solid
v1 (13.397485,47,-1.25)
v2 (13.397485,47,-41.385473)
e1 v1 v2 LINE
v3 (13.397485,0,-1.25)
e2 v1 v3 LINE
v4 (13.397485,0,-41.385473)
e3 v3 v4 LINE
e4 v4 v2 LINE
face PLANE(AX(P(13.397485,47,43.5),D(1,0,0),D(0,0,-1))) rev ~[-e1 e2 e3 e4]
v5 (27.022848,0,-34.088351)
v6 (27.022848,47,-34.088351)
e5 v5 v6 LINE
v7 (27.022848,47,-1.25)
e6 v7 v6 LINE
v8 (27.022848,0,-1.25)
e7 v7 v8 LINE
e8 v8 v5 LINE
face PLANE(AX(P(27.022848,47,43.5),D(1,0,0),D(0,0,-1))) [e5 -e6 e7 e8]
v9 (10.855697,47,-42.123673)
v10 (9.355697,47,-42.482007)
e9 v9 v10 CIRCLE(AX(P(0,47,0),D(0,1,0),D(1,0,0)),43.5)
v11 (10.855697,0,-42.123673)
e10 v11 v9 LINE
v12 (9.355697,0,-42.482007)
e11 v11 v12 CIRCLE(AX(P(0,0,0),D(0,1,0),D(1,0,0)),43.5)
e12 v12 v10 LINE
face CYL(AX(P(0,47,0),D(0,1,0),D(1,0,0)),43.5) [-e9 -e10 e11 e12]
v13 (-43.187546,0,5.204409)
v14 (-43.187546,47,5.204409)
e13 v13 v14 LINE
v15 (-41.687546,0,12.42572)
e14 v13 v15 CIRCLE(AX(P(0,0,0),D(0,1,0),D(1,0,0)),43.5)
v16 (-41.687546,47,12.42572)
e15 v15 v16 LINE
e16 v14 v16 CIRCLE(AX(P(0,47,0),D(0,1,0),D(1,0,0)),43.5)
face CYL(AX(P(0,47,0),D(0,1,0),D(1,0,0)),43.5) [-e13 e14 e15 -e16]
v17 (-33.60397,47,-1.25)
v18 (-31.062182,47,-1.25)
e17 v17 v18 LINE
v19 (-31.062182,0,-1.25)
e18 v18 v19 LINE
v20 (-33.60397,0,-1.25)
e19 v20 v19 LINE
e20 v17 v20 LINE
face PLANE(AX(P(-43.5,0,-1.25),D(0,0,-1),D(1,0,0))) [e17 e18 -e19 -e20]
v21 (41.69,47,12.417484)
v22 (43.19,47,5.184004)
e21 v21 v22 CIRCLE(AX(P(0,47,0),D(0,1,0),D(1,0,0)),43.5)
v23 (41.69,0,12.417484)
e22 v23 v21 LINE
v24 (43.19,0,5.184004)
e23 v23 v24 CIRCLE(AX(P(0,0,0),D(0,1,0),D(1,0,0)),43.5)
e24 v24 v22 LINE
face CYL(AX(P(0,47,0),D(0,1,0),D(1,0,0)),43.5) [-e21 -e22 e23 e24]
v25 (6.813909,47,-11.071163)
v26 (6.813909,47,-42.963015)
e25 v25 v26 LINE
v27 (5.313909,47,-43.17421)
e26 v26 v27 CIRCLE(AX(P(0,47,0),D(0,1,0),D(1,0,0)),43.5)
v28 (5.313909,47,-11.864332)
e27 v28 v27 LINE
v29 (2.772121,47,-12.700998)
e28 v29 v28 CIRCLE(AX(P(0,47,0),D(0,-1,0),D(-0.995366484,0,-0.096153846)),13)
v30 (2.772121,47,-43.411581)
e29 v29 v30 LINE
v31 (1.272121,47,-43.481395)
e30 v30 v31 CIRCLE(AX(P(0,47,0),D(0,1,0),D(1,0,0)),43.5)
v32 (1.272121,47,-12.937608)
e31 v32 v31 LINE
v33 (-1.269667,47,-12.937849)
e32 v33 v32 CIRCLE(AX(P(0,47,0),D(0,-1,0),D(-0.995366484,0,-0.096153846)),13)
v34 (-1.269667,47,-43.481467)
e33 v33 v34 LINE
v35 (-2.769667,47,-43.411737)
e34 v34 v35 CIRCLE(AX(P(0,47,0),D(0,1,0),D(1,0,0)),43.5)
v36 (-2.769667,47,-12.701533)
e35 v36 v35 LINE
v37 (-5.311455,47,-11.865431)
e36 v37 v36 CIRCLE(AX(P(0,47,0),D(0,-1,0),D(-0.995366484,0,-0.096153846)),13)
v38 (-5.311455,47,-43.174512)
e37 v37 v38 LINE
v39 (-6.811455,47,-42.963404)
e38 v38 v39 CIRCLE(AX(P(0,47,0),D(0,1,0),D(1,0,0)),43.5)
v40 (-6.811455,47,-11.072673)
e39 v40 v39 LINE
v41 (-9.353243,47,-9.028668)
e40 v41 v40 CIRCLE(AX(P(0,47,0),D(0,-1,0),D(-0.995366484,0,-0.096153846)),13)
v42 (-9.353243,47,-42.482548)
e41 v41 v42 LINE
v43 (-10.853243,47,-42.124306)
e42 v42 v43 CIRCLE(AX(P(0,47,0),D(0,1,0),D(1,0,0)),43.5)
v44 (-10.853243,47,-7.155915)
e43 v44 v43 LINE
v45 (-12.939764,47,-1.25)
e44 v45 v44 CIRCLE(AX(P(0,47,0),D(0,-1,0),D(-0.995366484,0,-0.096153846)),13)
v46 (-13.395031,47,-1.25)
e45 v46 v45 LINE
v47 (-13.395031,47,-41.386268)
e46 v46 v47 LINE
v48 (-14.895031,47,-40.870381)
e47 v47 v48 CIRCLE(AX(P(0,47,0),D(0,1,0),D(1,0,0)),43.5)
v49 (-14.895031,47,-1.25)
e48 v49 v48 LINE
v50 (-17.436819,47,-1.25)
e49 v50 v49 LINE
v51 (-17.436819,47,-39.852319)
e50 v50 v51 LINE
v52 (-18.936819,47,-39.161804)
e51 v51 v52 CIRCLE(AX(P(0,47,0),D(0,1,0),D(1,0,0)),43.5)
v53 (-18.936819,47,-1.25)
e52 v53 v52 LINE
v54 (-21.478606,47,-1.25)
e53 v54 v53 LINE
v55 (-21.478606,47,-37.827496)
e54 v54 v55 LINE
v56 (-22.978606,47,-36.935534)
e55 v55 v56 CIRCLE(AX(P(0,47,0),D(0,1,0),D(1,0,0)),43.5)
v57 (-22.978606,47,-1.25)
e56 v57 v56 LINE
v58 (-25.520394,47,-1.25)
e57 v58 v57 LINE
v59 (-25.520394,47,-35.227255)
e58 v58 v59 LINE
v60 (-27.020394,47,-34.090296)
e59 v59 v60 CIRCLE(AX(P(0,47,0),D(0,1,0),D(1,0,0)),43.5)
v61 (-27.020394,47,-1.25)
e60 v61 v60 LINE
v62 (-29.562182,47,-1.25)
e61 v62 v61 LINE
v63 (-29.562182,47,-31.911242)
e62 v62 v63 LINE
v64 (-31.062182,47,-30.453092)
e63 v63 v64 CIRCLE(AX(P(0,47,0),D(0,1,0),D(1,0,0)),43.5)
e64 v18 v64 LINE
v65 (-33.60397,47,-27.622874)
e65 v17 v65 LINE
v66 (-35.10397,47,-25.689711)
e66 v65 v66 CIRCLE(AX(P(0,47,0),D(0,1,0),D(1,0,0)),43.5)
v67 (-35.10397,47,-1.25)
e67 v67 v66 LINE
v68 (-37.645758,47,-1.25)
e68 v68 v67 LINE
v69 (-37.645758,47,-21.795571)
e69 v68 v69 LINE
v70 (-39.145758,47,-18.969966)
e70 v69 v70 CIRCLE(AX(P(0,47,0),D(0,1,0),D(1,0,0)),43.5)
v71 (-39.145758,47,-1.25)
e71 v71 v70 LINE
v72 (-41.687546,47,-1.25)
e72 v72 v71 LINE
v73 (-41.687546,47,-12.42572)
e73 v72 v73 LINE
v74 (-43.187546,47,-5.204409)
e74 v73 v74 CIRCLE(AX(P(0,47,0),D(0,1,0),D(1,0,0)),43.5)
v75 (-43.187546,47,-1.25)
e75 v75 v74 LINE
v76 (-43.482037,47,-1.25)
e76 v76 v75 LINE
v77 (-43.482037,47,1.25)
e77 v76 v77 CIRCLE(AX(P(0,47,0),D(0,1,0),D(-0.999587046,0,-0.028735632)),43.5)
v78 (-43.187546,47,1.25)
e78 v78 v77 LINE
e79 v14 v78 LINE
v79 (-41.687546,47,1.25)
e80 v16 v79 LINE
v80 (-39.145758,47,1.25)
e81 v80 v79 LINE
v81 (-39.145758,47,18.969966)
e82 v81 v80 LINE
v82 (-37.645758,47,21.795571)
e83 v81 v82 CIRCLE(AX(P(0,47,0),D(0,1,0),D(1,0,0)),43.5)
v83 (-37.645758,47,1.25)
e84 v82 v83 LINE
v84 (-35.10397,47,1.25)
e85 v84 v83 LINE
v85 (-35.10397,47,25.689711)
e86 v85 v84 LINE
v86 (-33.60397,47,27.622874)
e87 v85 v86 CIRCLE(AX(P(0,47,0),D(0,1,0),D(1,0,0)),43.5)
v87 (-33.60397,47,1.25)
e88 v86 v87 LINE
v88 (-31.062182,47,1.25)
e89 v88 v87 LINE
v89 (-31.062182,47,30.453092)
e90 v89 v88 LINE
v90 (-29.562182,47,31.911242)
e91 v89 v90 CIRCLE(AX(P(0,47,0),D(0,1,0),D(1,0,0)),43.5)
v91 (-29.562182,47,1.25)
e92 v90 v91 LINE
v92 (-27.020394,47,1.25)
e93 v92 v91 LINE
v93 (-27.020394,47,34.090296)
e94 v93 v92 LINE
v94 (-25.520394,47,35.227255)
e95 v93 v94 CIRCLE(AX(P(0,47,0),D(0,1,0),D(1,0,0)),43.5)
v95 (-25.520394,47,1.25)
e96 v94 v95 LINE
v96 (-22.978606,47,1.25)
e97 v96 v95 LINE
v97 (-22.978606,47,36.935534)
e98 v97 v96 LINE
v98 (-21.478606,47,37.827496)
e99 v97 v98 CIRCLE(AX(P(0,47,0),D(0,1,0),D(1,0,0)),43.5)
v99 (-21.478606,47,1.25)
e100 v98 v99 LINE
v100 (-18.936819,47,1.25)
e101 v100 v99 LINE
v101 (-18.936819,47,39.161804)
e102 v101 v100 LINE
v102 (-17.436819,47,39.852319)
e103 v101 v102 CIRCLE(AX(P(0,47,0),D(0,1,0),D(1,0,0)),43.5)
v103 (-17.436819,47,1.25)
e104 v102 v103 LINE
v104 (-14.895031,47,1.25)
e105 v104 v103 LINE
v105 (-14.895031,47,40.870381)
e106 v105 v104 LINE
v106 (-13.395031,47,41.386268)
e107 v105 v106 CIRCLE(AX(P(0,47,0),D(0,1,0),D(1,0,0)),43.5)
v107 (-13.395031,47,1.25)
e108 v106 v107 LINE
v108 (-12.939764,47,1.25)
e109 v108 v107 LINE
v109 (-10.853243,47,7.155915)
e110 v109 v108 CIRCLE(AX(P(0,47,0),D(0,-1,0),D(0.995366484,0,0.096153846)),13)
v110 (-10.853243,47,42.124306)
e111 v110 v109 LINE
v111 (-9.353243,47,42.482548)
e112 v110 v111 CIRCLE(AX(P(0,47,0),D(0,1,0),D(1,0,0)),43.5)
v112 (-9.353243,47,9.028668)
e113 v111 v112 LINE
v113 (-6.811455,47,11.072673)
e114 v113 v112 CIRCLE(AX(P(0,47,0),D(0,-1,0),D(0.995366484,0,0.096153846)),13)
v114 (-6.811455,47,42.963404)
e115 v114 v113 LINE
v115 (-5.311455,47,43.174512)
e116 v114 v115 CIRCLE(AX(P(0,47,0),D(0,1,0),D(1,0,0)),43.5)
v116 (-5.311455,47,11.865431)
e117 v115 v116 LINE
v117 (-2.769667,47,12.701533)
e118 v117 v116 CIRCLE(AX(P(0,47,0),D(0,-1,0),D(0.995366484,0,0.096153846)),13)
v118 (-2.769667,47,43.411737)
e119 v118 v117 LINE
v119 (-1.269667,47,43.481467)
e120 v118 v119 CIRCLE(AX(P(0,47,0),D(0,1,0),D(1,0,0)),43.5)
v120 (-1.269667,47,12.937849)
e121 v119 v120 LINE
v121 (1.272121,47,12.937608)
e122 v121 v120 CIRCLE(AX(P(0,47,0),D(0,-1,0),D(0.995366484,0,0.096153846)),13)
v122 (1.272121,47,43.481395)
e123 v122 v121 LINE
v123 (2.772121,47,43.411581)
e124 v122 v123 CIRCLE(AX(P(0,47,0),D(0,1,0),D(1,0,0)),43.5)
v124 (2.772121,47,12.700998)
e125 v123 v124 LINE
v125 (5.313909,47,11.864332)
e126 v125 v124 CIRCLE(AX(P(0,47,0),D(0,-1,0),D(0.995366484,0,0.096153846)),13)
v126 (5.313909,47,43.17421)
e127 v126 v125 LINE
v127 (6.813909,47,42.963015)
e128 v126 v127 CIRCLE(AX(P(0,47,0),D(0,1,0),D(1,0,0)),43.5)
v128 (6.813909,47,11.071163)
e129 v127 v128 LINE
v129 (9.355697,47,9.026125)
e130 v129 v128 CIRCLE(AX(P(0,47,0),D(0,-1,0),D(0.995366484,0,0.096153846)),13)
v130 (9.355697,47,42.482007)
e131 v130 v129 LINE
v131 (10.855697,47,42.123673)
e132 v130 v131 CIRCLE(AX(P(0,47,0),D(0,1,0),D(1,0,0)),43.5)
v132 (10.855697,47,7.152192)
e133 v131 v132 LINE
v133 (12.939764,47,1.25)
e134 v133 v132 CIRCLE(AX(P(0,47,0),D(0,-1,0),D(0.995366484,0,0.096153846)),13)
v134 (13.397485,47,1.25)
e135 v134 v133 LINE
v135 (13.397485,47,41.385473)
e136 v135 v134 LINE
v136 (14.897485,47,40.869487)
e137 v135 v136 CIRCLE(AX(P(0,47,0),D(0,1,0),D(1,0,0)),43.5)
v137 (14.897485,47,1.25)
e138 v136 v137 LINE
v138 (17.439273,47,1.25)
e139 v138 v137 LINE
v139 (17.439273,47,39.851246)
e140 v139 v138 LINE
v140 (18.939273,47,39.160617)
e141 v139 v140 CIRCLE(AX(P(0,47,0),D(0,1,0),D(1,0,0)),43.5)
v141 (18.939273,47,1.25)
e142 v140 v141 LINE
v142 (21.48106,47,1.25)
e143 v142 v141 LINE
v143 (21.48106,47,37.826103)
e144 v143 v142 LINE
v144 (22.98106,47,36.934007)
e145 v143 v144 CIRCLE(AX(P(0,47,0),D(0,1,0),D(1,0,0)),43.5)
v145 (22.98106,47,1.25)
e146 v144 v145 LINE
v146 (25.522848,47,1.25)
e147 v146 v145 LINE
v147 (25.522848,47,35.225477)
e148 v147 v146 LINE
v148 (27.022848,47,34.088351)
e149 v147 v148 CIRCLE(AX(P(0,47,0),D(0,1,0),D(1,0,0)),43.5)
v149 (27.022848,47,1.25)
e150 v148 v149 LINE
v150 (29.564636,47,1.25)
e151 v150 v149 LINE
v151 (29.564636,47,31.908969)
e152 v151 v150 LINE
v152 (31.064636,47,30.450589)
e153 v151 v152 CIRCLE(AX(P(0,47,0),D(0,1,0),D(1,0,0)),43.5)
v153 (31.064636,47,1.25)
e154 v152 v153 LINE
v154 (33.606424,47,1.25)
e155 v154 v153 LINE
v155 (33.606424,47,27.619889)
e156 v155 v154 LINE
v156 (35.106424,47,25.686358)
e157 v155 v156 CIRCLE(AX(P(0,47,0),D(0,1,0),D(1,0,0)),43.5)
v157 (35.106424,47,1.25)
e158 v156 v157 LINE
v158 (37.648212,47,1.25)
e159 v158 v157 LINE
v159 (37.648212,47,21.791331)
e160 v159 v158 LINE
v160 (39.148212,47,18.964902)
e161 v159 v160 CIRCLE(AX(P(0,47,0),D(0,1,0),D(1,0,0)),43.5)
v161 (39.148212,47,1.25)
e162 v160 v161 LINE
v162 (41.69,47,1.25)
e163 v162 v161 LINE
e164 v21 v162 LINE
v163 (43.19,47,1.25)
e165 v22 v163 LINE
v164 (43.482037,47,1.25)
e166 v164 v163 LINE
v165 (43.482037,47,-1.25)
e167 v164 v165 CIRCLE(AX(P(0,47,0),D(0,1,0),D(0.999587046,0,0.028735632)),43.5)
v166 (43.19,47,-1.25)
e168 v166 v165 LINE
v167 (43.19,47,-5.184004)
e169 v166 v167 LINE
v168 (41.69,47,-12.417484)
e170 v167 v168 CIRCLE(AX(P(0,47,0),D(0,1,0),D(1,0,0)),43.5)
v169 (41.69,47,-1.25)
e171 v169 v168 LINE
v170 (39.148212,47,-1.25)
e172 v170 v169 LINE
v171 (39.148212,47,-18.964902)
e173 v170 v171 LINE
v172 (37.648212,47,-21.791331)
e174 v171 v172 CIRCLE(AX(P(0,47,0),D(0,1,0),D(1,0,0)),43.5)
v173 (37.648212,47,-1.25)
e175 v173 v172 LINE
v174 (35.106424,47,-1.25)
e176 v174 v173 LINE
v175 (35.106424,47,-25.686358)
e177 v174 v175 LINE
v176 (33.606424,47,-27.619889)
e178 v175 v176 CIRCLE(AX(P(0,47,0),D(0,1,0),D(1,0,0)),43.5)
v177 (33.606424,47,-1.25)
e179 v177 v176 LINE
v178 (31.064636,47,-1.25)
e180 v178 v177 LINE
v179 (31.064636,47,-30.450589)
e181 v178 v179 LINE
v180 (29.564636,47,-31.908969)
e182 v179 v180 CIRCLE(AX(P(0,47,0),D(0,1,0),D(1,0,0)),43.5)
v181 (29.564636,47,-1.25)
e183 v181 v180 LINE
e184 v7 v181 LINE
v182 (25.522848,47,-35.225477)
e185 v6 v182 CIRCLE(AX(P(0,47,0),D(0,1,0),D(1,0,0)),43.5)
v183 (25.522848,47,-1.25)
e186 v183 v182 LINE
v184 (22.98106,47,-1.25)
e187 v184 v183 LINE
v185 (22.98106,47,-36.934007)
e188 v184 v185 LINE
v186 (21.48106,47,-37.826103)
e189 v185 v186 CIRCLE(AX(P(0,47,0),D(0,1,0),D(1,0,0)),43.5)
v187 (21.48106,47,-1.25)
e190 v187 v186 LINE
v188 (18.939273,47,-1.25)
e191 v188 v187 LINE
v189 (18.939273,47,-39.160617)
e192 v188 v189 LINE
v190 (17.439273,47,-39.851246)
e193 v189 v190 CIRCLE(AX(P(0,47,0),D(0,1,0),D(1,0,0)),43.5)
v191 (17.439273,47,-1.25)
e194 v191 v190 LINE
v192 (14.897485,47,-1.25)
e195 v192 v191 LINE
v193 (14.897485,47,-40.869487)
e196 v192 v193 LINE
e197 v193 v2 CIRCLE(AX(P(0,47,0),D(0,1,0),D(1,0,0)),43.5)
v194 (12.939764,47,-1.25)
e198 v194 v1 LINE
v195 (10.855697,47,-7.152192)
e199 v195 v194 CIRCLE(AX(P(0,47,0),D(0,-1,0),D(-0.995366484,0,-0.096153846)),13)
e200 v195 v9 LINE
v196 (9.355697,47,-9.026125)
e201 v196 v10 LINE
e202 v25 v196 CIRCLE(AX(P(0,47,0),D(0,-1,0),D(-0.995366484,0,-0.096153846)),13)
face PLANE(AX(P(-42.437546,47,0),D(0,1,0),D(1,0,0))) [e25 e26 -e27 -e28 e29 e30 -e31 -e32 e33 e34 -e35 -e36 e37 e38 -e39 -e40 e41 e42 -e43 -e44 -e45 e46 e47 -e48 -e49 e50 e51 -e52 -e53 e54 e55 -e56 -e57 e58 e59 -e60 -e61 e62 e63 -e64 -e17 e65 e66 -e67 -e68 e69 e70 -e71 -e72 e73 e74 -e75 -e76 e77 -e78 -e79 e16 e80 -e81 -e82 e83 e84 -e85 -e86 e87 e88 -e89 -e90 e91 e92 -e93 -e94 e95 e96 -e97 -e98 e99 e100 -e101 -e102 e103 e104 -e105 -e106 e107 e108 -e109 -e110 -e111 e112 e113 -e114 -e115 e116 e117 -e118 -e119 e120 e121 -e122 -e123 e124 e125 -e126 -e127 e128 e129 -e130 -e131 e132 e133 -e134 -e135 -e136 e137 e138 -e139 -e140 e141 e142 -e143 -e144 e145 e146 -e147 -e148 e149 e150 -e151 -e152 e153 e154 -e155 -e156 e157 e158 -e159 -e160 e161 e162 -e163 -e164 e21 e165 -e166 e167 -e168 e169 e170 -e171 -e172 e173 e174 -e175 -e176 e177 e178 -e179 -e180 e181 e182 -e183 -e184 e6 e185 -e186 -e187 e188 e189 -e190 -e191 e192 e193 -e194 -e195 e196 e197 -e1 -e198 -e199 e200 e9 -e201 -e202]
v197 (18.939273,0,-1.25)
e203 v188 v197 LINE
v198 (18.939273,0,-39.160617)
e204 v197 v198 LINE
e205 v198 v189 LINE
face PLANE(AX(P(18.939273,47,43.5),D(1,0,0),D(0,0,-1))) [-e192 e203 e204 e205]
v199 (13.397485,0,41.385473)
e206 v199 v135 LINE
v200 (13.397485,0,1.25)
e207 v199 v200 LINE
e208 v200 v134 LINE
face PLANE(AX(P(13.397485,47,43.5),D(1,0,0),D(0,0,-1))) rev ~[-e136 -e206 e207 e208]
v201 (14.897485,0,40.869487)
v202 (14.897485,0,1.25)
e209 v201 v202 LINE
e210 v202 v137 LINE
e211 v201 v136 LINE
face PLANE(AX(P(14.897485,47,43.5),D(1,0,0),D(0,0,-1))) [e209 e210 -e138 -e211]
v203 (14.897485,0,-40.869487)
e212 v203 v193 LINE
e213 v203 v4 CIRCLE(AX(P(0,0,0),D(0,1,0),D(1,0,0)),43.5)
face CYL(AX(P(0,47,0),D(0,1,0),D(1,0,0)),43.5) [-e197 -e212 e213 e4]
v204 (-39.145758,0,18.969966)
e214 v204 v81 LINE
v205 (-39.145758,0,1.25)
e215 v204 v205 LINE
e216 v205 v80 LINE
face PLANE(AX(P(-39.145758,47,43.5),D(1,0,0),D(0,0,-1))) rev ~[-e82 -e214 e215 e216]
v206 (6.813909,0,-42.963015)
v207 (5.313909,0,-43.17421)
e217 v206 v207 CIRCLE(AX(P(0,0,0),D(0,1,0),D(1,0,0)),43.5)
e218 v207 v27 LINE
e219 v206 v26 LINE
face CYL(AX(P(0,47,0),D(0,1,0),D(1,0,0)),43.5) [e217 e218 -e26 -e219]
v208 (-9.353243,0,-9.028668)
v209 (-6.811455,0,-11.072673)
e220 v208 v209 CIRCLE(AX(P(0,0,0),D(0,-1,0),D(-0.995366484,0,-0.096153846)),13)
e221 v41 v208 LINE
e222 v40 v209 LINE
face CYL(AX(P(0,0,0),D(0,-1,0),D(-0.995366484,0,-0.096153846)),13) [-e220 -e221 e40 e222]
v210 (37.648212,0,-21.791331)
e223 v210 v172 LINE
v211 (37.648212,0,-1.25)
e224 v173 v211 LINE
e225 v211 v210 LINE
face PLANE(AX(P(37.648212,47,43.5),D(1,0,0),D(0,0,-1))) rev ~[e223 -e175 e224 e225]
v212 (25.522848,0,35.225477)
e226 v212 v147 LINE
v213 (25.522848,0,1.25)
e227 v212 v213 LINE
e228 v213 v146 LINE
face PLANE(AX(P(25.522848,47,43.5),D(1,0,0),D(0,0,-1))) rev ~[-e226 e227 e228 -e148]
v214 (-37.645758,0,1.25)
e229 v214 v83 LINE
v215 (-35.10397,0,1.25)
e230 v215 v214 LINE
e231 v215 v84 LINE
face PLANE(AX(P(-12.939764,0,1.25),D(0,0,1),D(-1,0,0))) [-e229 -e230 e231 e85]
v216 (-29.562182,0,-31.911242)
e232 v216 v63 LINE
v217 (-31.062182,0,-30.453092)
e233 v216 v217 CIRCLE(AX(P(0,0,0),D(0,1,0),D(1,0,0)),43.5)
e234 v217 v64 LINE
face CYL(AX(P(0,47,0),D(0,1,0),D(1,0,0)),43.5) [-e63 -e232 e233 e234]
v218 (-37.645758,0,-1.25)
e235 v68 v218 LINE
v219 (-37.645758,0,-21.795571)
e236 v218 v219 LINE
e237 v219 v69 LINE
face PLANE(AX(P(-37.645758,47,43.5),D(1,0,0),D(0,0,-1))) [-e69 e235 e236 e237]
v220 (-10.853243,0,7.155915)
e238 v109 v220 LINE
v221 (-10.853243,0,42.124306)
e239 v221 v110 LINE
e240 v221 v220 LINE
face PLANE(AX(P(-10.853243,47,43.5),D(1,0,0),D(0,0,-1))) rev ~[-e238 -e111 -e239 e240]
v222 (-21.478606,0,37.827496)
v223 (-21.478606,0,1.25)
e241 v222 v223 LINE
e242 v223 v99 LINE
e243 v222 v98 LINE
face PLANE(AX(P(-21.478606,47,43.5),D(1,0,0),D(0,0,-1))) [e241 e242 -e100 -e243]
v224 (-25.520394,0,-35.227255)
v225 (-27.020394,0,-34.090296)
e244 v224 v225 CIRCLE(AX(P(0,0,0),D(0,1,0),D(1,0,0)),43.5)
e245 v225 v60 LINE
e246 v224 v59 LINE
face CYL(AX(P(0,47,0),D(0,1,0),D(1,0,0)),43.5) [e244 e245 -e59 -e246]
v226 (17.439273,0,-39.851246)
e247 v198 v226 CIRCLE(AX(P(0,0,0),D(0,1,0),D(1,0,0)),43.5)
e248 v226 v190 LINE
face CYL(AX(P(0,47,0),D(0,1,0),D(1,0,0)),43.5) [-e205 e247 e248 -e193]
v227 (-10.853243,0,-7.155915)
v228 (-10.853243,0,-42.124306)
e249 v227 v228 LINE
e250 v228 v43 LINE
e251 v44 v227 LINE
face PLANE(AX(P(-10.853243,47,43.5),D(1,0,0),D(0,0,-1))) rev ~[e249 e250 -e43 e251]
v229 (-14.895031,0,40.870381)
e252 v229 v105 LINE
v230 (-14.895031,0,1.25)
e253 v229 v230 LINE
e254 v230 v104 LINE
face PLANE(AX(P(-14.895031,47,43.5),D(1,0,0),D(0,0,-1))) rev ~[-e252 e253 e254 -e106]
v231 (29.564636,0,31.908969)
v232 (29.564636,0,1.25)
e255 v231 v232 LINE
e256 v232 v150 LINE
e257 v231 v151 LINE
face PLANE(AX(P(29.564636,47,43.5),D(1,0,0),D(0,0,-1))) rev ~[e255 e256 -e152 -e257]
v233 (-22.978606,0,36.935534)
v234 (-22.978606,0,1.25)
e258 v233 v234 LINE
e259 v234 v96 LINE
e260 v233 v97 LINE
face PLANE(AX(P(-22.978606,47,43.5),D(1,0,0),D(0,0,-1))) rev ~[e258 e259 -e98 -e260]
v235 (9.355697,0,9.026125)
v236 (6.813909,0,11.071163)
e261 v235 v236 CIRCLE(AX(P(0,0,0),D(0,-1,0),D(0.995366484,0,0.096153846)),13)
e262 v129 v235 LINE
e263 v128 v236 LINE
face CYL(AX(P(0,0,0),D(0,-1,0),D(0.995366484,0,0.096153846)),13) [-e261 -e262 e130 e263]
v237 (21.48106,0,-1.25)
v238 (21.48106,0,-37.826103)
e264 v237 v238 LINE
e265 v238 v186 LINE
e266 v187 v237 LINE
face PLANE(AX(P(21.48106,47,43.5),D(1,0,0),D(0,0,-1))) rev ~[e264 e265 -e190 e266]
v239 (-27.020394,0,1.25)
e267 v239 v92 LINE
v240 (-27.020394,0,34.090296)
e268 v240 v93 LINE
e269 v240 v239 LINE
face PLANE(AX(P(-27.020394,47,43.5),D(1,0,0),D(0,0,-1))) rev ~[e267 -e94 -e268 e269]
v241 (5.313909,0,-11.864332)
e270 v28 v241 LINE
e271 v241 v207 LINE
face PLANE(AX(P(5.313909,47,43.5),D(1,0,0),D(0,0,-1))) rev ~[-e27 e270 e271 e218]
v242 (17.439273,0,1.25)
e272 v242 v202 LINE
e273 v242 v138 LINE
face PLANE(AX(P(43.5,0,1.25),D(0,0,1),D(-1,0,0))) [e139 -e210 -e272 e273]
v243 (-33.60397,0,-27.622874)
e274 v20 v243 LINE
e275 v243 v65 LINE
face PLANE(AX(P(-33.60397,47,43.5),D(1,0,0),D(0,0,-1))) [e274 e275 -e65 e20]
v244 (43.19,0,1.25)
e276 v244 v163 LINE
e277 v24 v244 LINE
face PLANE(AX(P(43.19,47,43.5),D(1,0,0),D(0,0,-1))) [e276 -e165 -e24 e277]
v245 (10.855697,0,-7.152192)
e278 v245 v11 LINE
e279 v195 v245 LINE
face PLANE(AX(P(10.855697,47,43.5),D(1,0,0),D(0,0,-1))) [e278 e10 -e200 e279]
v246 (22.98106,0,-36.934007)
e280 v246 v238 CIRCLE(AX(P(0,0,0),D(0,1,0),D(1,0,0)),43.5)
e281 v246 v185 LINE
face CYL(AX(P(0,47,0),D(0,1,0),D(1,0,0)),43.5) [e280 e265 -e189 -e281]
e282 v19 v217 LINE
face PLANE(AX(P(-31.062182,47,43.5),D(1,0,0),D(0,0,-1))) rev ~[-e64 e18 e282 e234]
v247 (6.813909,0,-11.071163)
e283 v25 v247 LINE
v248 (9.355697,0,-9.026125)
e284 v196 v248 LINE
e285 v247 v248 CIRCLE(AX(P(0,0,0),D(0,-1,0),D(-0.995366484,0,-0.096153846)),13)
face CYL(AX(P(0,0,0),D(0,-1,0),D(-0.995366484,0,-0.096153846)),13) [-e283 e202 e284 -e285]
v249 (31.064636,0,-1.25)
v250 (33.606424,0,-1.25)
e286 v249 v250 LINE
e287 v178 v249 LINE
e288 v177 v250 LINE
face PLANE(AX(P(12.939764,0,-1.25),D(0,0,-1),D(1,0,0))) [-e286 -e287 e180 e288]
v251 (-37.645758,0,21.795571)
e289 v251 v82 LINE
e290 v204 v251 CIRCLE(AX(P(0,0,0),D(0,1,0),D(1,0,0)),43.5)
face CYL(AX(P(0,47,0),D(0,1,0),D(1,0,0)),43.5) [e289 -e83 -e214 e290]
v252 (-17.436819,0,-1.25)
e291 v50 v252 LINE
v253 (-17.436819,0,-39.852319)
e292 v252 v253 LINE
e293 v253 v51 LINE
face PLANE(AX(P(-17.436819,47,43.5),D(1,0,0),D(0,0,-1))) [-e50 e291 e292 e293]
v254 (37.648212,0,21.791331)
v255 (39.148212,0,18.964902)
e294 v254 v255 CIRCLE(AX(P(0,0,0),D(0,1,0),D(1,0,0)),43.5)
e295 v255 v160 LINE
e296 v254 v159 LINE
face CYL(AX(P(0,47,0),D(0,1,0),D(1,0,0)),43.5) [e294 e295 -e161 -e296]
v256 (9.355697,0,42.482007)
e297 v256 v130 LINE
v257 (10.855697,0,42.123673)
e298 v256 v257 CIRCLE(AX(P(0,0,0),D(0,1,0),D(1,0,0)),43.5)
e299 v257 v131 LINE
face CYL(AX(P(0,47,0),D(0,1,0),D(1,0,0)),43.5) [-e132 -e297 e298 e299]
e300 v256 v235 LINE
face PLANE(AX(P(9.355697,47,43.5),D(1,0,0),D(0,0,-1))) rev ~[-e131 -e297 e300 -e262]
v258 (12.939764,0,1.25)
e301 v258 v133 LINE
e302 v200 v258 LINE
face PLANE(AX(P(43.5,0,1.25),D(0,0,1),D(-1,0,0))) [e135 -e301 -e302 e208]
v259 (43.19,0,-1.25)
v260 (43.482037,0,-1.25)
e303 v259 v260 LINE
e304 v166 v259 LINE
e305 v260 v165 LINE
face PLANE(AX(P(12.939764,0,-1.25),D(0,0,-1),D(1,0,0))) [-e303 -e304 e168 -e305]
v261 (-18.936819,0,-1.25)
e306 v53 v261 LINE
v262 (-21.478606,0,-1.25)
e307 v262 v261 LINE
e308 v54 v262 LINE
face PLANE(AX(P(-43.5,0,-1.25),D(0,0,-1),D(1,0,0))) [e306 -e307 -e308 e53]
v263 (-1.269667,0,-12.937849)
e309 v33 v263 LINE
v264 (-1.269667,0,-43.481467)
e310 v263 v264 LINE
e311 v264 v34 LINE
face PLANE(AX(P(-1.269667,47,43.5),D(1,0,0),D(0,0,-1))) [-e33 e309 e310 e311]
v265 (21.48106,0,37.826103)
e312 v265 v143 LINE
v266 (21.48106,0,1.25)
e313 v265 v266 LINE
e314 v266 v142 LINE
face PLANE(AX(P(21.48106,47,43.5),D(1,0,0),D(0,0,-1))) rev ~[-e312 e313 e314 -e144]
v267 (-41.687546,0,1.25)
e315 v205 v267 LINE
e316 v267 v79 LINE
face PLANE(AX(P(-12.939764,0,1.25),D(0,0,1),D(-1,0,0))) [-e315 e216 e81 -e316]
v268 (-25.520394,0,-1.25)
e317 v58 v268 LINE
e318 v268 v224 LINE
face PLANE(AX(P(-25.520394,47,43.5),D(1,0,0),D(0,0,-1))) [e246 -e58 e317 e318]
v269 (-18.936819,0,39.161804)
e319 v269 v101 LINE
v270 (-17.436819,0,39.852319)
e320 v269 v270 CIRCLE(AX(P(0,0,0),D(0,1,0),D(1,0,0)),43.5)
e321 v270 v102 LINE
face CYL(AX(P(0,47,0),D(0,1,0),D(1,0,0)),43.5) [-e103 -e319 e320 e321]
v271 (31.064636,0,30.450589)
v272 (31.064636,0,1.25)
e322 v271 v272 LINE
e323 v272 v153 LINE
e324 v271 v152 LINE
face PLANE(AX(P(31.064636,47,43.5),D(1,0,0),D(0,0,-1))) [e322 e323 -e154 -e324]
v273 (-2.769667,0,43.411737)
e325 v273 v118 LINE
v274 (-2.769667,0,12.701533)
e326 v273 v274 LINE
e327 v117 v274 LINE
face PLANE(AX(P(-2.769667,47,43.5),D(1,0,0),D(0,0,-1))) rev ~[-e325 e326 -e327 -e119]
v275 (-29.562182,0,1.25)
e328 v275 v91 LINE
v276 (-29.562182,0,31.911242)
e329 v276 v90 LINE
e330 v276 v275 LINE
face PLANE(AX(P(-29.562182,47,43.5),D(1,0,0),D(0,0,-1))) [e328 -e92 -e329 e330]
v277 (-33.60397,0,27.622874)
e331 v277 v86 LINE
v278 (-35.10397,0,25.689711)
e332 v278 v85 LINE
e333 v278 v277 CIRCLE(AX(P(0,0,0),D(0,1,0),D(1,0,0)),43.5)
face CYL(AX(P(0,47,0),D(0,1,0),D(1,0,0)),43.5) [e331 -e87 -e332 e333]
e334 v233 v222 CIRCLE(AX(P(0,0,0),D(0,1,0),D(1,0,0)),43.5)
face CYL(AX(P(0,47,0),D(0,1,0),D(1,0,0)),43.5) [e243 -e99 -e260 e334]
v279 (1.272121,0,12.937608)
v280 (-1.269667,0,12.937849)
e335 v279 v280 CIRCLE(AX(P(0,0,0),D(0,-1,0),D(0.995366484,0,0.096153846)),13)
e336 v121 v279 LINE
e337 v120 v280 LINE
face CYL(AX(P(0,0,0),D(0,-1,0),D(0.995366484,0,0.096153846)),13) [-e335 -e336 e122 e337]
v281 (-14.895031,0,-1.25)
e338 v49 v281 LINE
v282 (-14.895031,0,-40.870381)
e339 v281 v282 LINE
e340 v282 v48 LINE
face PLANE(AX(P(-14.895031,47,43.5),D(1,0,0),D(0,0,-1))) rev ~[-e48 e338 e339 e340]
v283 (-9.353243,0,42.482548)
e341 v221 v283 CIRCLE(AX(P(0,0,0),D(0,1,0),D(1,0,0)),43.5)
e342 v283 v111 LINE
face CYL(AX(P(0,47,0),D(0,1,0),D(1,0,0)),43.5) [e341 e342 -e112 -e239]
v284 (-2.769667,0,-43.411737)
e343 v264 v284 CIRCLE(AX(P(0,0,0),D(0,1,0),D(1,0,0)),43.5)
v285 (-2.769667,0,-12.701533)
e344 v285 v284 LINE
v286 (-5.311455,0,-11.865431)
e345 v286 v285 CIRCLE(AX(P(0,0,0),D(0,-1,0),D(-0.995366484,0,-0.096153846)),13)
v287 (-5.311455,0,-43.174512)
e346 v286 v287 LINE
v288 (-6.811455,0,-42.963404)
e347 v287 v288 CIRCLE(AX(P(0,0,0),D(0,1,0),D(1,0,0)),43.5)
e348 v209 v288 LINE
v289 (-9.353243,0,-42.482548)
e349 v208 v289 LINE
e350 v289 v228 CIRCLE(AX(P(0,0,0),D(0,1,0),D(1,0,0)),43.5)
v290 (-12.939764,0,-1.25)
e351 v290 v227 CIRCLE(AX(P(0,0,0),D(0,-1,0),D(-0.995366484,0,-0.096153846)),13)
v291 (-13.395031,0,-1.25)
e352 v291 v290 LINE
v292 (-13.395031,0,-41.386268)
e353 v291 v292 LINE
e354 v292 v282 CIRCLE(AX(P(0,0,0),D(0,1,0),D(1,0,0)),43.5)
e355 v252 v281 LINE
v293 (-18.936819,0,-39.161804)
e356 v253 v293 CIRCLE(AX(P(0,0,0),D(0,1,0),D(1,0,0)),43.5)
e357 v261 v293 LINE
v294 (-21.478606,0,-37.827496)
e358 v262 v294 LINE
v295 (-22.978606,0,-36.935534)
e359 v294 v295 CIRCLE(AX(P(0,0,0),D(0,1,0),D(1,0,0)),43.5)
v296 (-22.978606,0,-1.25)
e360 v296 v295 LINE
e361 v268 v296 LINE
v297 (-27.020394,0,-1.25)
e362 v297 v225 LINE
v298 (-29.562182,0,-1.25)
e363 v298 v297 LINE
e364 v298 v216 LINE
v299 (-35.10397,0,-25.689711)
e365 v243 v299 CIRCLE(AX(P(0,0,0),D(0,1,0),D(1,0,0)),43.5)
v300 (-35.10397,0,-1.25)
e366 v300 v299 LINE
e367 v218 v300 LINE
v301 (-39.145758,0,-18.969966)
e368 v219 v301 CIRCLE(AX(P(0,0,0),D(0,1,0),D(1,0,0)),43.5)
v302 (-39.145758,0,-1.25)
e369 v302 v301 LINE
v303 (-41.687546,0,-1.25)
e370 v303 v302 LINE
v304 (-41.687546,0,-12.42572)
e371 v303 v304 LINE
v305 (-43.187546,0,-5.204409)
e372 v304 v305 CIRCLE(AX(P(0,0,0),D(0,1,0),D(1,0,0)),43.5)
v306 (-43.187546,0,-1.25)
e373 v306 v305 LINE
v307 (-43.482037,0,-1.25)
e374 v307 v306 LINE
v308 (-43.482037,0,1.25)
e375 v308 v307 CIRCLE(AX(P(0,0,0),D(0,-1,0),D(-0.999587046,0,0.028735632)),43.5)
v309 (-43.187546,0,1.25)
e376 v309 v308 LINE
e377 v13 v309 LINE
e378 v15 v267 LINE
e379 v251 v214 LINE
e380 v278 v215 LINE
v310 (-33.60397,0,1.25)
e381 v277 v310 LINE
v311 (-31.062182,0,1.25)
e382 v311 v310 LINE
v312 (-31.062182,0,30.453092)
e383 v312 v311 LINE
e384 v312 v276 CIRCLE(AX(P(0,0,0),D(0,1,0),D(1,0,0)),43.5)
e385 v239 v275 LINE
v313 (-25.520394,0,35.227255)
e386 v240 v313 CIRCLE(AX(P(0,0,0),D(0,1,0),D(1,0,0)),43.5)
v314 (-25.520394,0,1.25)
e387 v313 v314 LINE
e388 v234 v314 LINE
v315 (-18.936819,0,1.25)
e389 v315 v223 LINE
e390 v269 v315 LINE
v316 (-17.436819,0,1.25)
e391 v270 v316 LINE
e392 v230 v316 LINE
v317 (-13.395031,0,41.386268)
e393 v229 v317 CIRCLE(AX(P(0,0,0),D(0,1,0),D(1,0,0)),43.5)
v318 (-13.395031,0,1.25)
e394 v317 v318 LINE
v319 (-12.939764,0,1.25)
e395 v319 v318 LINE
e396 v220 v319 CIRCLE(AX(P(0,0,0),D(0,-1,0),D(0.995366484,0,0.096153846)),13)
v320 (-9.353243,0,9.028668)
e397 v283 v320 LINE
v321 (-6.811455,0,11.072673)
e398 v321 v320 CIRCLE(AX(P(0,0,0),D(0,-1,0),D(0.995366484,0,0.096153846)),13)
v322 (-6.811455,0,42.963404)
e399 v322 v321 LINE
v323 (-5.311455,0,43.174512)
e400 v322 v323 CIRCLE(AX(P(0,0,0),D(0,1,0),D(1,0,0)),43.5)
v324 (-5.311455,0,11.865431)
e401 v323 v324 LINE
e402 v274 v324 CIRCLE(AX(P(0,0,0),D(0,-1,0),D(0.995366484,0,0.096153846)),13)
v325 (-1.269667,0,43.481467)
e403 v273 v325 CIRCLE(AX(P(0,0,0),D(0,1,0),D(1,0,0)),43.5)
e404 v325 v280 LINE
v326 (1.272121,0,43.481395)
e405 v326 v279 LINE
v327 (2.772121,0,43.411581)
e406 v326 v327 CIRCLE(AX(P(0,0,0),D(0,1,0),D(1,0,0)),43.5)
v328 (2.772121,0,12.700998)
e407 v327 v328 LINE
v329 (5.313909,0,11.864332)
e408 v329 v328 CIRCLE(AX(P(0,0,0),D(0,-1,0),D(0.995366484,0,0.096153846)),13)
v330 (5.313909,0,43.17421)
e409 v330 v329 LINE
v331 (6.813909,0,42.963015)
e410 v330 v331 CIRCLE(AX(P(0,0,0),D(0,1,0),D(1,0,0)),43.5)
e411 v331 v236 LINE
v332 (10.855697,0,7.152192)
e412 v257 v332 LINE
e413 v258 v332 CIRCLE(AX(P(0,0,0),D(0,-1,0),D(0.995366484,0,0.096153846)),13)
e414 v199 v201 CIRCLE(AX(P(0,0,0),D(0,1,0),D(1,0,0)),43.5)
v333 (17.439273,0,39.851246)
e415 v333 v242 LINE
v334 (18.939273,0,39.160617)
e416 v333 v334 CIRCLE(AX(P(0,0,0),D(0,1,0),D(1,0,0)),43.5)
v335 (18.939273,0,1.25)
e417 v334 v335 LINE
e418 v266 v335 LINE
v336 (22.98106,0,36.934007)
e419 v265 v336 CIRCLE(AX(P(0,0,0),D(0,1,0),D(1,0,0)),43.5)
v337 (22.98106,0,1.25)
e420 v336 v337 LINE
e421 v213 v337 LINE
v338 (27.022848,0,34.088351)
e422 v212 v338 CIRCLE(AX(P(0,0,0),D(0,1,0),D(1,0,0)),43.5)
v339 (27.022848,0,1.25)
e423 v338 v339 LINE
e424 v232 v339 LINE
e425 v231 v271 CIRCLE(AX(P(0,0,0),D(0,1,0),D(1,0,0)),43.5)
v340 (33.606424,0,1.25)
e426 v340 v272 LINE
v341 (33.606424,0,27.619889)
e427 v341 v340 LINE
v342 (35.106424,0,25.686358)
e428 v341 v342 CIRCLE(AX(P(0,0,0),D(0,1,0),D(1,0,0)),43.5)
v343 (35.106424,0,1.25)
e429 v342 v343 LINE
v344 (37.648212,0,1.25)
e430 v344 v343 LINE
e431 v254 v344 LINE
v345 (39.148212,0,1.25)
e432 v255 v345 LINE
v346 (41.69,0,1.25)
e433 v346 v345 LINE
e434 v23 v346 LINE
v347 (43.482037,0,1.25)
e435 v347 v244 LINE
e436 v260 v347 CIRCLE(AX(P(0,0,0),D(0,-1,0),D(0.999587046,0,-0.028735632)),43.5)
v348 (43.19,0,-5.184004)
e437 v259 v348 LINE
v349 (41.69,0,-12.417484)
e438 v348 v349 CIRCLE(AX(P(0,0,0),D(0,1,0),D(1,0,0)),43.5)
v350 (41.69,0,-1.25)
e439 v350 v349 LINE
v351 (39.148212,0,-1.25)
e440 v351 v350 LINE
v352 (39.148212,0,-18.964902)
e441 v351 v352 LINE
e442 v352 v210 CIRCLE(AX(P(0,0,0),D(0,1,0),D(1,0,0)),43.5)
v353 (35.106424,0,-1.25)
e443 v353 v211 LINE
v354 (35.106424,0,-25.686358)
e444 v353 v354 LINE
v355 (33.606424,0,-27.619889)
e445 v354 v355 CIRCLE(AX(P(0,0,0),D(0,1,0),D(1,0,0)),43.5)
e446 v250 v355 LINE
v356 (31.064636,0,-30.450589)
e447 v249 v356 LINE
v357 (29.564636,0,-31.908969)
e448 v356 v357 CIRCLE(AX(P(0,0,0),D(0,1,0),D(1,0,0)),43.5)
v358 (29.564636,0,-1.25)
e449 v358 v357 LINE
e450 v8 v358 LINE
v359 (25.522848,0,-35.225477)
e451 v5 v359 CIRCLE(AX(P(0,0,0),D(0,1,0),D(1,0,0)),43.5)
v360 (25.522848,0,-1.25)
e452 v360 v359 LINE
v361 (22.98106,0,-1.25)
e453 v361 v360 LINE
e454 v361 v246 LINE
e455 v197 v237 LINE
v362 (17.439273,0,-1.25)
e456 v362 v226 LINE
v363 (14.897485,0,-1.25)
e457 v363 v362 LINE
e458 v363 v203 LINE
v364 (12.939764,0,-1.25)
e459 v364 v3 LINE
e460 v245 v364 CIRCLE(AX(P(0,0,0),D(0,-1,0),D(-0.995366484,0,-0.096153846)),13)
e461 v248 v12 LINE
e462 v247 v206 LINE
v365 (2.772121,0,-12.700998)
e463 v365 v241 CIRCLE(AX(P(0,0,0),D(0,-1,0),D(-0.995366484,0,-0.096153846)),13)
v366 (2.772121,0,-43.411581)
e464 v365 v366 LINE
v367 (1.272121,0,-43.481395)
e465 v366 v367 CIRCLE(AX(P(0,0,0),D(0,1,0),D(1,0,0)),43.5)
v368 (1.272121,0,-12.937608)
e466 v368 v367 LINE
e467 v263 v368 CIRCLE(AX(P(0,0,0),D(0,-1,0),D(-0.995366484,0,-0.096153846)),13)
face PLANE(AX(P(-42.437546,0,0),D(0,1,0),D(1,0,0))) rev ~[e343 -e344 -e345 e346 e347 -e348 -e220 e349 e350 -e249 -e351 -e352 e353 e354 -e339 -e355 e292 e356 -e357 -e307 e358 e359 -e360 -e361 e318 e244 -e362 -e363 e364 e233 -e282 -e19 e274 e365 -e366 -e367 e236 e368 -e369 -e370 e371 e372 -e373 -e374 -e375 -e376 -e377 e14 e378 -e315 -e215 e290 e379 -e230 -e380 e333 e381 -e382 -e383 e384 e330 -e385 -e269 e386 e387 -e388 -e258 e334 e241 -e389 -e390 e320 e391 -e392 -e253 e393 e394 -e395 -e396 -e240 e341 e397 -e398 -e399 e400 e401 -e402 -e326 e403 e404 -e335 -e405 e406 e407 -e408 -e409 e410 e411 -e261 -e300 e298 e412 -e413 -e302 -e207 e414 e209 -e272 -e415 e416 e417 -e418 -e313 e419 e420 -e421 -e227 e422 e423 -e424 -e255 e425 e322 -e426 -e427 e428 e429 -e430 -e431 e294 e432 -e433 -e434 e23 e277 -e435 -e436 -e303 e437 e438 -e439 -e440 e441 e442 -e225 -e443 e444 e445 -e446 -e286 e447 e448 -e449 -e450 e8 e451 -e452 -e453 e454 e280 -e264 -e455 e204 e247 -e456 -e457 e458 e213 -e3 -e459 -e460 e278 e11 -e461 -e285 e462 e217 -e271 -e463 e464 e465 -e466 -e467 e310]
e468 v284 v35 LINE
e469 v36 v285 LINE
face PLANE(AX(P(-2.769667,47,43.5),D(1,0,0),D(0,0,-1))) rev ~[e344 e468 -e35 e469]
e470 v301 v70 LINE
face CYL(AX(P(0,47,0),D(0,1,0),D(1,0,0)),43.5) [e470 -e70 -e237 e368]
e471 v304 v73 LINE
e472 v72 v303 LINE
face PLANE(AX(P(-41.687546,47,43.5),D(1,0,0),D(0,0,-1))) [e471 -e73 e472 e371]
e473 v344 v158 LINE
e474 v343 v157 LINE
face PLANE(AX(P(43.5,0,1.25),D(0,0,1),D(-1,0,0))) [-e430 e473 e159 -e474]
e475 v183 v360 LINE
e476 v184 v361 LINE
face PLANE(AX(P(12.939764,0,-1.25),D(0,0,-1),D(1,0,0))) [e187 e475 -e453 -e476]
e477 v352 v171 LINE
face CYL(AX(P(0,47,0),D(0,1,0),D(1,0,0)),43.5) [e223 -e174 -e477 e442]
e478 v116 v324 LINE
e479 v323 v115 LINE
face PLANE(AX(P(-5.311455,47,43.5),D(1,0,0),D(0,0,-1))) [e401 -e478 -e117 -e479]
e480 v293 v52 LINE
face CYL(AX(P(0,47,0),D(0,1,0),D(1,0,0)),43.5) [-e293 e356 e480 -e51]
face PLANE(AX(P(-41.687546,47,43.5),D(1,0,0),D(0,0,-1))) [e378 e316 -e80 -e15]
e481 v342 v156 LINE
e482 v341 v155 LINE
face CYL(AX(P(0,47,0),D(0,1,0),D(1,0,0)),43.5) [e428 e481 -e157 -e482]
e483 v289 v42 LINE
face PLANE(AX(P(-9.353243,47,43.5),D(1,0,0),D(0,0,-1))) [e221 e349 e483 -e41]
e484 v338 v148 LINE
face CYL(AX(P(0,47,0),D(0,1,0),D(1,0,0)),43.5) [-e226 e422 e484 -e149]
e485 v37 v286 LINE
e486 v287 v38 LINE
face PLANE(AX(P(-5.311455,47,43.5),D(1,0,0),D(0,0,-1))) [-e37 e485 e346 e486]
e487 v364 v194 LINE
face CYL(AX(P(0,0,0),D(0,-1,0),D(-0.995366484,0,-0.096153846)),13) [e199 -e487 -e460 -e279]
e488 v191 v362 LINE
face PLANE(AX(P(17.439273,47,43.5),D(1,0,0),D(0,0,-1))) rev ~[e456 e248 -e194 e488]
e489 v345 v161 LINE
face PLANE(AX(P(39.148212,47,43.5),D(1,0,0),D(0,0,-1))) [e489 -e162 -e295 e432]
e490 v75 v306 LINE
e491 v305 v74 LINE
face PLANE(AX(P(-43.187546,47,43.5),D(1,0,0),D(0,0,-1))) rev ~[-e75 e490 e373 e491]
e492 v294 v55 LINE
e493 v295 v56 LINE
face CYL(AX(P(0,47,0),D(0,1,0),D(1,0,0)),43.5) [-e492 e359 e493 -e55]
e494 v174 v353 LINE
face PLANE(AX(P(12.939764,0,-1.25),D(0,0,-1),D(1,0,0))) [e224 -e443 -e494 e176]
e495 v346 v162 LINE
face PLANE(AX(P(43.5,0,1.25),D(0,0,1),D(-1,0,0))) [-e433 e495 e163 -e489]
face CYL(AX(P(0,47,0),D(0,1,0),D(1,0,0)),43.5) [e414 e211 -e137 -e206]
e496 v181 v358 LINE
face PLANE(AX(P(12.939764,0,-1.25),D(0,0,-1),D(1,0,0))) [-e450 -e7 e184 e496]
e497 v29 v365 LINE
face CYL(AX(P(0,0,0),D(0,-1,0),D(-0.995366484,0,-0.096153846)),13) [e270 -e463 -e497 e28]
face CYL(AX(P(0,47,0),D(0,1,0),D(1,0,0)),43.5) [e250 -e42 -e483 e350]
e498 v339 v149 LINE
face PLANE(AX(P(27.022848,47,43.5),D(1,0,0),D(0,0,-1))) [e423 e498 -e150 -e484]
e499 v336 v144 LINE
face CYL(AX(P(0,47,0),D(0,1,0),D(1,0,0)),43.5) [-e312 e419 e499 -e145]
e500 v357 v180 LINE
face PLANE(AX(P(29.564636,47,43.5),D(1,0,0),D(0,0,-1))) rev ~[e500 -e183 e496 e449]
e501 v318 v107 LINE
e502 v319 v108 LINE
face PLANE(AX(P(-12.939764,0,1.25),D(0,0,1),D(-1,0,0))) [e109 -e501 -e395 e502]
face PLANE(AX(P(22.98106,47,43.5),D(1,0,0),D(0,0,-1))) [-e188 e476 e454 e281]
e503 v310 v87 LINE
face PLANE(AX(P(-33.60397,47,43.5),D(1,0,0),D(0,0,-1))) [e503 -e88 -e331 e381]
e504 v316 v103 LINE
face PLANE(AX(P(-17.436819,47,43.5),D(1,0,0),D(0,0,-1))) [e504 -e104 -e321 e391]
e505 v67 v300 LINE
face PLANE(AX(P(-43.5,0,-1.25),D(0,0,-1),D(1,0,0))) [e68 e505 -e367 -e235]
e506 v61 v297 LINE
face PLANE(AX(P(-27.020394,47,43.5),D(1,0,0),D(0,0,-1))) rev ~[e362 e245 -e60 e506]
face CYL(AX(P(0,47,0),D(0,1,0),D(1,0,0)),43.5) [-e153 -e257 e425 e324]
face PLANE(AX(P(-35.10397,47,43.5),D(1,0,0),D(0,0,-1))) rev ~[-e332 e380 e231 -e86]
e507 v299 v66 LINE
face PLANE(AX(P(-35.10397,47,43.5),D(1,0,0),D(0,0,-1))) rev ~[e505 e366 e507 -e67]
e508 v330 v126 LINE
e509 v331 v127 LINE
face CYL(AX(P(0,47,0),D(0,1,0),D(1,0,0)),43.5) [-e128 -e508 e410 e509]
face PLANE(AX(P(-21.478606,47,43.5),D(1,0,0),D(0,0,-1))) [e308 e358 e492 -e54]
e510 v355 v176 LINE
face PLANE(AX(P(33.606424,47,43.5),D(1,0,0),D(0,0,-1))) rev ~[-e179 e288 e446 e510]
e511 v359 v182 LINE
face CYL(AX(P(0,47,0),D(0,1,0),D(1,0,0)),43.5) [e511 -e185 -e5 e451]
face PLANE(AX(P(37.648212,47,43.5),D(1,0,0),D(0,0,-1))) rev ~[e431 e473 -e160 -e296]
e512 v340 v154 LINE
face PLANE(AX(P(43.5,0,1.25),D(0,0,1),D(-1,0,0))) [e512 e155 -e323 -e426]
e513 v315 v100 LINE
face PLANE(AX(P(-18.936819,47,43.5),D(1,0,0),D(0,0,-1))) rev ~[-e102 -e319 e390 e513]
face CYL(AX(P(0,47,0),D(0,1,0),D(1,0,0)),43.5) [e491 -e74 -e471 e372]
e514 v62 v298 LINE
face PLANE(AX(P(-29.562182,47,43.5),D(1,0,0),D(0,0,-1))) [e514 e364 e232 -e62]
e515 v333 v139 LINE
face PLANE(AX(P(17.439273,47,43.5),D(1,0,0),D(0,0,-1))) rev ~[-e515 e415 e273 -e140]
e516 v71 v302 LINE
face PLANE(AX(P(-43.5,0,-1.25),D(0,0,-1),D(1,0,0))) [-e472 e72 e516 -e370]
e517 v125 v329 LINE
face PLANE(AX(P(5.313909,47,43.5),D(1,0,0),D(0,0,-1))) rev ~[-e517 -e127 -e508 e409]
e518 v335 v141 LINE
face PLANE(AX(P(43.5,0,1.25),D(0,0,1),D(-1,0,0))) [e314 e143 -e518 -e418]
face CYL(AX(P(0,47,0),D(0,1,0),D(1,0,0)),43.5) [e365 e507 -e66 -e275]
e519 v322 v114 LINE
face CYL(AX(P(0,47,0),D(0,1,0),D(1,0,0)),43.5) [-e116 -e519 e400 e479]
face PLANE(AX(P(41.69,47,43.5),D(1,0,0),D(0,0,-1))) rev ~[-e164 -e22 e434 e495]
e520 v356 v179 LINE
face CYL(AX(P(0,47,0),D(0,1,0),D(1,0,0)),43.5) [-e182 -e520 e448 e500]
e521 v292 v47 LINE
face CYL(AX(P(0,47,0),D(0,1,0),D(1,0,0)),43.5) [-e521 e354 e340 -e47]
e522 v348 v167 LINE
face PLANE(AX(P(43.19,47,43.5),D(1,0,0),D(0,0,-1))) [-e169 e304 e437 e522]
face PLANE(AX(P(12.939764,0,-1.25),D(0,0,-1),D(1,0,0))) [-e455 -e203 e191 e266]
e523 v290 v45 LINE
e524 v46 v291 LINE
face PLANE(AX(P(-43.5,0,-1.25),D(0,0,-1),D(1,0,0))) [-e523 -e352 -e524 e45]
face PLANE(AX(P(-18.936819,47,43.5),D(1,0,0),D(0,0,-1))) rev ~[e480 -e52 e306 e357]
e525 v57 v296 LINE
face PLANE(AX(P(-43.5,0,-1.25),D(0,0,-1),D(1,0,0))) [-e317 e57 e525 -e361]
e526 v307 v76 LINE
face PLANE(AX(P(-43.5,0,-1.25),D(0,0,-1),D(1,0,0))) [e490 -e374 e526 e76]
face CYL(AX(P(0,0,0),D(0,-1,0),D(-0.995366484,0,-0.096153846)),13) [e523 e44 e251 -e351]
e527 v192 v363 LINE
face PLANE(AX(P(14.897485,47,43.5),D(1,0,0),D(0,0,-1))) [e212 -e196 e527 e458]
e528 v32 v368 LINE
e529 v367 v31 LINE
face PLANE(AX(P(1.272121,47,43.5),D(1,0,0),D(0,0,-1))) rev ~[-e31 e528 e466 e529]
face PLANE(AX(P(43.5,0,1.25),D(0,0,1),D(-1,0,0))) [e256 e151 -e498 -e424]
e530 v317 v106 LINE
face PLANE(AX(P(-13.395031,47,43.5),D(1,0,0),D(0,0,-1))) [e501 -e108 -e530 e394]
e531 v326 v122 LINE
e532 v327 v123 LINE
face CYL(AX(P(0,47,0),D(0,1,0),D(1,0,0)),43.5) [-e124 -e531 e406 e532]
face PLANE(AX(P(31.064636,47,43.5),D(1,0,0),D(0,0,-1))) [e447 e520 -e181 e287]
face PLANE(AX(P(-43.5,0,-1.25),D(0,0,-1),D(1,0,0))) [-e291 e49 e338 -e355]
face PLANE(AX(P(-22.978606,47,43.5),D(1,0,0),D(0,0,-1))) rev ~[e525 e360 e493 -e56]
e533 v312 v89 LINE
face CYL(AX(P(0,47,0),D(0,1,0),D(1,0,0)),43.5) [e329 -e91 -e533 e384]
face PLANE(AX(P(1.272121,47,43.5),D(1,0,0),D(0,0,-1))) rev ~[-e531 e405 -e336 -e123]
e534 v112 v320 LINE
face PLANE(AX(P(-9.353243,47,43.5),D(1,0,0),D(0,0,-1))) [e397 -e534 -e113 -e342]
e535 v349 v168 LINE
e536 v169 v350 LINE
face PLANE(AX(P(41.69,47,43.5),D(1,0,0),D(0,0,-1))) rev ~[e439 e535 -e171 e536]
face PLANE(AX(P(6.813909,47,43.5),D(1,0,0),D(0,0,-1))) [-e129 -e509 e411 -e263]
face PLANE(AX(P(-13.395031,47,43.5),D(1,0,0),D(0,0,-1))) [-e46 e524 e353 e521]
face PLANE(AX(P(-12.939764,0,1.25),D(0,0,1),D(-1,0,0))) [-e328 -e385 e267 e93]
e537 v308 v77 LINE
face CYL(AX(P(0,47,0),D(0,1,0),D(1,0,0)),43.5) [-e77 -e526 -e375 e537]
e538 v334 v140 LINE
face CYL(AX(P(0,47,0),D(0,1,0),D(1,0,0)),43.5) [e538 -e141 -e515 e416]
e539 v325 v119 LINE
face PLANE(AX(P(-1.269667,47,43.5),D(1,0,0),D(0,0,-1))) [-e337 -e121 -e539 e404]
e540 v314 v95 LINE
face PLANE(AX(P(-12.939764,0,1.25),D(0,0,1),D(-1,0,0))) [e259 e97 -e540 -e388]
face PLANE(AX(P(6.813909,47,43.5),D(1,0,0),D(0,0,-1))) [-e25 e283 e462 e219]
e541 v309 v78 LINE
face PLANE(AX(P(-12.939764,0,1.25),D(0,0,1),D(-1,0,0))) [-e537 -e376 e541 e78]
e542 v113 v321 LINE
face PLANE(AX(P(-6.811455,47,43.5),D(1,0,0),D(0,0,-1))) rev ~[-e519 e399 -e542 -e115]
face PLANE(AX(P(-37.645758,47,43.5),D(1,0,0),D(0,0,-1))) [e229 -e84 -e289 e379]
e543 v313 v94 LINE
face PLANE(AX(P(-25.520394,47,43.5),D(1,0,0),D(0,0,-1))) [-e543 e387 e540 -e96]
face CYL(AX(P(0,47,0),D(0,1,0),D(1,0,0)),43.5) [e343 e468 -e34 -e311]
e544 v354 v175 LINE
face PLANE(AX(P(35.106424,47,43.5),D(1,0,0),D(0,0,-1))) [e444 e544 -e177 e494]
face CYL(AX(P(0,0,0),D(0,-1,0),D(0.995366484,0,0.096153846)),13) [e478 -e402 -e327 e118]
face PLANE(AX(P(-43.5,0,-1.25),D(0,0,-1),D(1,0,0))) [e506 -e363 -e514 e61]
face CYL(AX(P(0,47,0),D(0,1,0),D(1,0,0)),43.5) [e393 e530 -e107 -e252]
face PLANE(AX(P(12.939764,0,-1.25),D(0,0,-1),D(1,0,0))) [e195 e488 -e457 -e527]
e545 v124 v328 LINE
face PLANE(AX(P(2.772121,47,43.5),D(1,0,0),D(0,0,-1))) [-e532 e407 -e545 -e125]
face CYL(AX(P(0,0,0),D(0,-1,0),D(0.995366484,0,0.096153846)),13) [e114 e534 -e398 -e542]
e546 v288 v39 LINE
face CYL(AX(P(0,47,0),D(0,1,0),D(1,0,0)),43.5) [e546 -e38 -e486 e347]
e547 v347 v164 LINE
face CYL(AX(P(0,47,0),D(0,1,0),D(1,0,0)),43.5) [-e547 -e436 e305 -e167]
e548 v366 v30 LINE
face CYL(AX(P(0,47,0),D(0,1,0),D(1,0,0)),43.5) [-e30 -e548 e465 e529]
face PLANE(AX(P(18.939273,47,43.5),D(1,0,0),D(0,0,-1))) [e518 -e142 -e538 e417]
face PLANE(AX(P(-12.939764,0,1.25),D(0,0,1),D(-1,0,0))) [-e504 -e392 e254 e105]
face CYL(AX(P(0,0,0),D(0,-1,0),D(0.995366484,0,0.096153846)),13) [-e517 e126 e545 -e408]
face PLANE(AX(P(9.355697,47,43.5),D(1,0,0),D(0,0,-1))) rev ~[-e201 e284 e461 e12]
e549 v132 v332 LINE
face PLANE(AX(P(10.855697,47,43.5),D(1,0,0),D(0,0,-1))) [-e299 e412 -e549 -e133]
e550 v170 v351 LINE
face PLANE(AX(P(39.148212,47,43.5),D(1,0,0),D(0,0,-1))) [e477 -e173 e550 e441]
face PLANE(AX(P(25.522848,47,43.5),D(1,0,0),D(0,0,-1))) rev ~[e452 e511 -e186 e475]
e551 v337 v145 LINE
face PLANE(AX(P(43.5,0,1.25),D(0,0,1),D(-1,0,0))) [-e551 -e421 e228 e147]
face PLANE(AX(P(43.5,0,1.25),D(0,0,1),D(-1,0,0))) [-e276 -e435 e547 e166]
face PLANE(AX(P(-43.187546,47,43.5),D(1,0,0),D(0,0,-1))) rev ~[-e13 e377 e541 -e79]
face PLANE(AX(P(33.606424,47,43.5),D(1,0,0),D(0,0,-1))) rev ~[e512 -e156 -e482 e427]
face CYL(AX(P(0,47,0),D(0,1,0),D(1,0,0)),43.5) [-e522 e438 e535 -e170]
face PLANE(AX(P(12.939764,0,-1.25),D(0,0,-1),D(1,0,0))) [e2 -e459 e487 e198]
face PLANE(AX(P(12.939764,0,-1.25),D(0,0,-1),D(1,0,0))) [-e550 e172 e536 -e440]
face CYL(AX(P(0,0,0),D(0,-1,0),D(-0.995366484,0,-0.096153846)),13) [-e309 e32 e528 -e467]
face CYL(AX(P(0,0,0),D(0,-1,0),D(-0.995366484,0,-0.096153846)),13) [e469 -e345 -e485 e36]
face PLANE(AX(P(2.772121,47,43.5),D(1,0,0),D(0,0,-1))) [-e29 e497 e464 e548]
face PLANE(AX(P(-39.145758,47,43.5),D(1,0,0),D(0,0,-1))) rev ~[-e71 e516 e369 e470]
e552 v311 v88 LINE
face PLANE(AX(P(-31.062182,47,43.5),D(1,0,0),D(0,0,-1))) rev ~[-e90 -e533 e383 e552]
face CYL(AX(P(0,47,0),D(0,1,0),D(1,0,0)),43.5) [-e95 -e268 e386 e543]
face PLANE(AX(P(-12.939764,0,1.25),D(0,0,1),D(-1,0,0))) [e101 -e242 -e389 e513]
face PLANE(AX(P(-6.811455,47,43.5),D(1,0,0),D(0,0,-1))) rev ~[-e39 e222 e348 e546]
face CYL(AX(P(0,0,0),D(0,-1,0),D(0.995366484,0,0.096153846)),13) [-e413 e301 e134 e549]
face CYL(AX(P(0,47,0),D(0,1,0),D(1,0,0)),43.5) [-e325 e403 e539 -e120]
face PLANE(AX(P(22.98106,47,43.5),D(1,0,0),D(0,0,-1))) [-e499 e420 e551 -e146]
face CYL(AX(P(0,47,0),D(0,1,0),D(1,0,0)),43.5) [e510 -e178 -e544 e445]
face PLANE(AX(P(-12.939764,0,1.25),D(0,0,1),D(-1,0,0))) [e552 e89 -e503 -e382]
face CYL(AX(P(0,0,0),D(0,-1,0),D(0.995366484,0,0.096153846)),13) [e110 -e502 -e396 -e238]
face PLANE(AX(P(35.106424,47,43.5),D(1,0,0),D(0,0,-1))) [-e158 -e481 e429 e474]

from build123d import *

# Parameters (mm, degrees)
SALIENTE_EXTRUIR3_DEPTH = 47
CROQUIS4_W              = 1.5
CROQUIS4_H              = 87
SALIENTE_EXTRUIR4_DEPTH = 47
CROQUIS5_OUTSIDE_W      = 115.342
CROQUIS5_OUTSIDE_H      = 115.342
CROQUIS5_OUTSIDE_R      = 43.5
CORTAR_EXTRUIR1_DEPTH   = 47


with BuildPart() as part:
    # Croquis3 → Saliente-Extruir3 (new body)
    with BuildSketch(Plane(origin=(0, 0, 0), x_dir=(1, 0, 0), z_dir=(0, 1, 0))):
        with BuildLine():
            Line((-43.5, 1.25), (-12.939764295, 1.25))
            ThreePointArc((-12.939764295, 1.25), (0, 13), (12.939764295, 1.25))
            Line((12.939764295, 1.25), (43.5, 1.25))
            Line((43.5, 1.25), (43.5, -1.25))
            Line((43.5, -1.25), (12.939764295, -1.25))
            ThreePointArc((12.939764295, -1.25), (0, -13), (-12.939764295, -1.25))
            Line((-12.939764295, -1.25), (-43.5, -1.25))
            Line((-43.5, -1.25), (-43.5, 1.25))
        make_face()
    extrude(amount=SALIENTE_EXTRUIR3_DEPTH)

    # Croquis4 → Saliente-Extruir4 (add)
    with BuildSketch(Plane(origin=(0, 47, 0), x_dir=(1, 0, 0), z_dir=(0, 1, 0))):
        with Locations((-42.437546, 0)):
            Rectangle(CROQUIS4_W, CROQUIS4_H)
        with Locations((-38.395758095, 0)):
            Rectangle(CROQUIS4_W, CROQUIS4_H)
        with Locations((-34.35397019, 0)):
            Rectangle(CROQUIS4_W, CROQUIS4_H)
        with Locations((-30.312182286, 0)):
            Rectangle(CROQUIS4_W, CROQUIS4_H)
        with Locations((-26.270394381, 0)):
            Rectangle(CROQUIS4_W, CROQUIS4_H)
        with Locations((-22.228606476, 0)):
            Rectangle(CROQUIS4_W, CROQUIS4_H)
        with Locations((-18.186818571, 0)):
            Rectangle(CROQUIS4_W, CROQUIS4_H)
        with Locations((-14.145030667, 0)):
            Rectangle(CROQUIS4_W, CROQUIS4_H)
        with Locations((-10.103242762, 0)):
            Rectangle(CROQUIS4_W, CROQUIS4_H)
        with Locations((-6.061454857, 0)):
            Rectangle(CROQUIS4_W, CROQUIS4_H)
        with Locations((-2.019666952, 0)):
            Rectangle(CROQUIS4_W, CROQUIS4_H)
        with Locations((2.022120952, 0)):
            Rectangle(CROQUIS4_W, CROQUIS4_H)
        with Locations((6.063908857, 0)):
            Rectangle(CROQUIS4_W, CROQUIS4_H)
        with Locations((10.105696762, 0)):
            Rectangle(CROQUIS4_W, CROQUIS4_H)
        with Locations((14.147484667, 0)):
            Rectangle(CROQUIS4_W, CROQUIS4_H)
        with Locations((18.189272571, 0)):
            Rectangle(CROQUIS4_W, CROQUIS4_H)
        with Locations((22.231060476, 0)):
            Rectangle(CROQUIS4_W, CROQUIS4_H)
        with Locations((26.272848381, 0)):
            Rectangle(CROQUIS4_W, CROQUIS4_H)
        with Locations((30.314636286, 0)):
            Rectangle(CROQUIS4_W, CROQUIS4_H)
        with Locations((34.35642419, 0)):
            Rectangle(CROQUIS4_W, CROQUIS4_H)
        with Locations((38.398212095, 0)):
            Rectangle(CROQUIS4_W, CROQUIS4_H)
        with Locations((42.44, 0)):
            Rectangle(CROQUIS4_W, CROQUIS4_H)
    extrude(amount=-SALIENTE_EXTRUIR4_DEPTH)

    # Croquis5 outside → Cortar-Extruir1 (cut)
    with BuildSketch(Plane(origin=(0, 47, 0), x_dir=(1, 0, 0), z_dir=(0, 1, 0))):
        Rectangle(CROQUIS5_OUTSIDE_W, CROQUIS5_OUTSIDE_H)
        Circle(CROQUIS5_OUTSIDE_R, mode=Mode.SUBTRACT)
    extrude(amount=-CORTAR_EXTRUIR1_DEPTH, mode=Mode.SUBTRACT)


solid = part.part
